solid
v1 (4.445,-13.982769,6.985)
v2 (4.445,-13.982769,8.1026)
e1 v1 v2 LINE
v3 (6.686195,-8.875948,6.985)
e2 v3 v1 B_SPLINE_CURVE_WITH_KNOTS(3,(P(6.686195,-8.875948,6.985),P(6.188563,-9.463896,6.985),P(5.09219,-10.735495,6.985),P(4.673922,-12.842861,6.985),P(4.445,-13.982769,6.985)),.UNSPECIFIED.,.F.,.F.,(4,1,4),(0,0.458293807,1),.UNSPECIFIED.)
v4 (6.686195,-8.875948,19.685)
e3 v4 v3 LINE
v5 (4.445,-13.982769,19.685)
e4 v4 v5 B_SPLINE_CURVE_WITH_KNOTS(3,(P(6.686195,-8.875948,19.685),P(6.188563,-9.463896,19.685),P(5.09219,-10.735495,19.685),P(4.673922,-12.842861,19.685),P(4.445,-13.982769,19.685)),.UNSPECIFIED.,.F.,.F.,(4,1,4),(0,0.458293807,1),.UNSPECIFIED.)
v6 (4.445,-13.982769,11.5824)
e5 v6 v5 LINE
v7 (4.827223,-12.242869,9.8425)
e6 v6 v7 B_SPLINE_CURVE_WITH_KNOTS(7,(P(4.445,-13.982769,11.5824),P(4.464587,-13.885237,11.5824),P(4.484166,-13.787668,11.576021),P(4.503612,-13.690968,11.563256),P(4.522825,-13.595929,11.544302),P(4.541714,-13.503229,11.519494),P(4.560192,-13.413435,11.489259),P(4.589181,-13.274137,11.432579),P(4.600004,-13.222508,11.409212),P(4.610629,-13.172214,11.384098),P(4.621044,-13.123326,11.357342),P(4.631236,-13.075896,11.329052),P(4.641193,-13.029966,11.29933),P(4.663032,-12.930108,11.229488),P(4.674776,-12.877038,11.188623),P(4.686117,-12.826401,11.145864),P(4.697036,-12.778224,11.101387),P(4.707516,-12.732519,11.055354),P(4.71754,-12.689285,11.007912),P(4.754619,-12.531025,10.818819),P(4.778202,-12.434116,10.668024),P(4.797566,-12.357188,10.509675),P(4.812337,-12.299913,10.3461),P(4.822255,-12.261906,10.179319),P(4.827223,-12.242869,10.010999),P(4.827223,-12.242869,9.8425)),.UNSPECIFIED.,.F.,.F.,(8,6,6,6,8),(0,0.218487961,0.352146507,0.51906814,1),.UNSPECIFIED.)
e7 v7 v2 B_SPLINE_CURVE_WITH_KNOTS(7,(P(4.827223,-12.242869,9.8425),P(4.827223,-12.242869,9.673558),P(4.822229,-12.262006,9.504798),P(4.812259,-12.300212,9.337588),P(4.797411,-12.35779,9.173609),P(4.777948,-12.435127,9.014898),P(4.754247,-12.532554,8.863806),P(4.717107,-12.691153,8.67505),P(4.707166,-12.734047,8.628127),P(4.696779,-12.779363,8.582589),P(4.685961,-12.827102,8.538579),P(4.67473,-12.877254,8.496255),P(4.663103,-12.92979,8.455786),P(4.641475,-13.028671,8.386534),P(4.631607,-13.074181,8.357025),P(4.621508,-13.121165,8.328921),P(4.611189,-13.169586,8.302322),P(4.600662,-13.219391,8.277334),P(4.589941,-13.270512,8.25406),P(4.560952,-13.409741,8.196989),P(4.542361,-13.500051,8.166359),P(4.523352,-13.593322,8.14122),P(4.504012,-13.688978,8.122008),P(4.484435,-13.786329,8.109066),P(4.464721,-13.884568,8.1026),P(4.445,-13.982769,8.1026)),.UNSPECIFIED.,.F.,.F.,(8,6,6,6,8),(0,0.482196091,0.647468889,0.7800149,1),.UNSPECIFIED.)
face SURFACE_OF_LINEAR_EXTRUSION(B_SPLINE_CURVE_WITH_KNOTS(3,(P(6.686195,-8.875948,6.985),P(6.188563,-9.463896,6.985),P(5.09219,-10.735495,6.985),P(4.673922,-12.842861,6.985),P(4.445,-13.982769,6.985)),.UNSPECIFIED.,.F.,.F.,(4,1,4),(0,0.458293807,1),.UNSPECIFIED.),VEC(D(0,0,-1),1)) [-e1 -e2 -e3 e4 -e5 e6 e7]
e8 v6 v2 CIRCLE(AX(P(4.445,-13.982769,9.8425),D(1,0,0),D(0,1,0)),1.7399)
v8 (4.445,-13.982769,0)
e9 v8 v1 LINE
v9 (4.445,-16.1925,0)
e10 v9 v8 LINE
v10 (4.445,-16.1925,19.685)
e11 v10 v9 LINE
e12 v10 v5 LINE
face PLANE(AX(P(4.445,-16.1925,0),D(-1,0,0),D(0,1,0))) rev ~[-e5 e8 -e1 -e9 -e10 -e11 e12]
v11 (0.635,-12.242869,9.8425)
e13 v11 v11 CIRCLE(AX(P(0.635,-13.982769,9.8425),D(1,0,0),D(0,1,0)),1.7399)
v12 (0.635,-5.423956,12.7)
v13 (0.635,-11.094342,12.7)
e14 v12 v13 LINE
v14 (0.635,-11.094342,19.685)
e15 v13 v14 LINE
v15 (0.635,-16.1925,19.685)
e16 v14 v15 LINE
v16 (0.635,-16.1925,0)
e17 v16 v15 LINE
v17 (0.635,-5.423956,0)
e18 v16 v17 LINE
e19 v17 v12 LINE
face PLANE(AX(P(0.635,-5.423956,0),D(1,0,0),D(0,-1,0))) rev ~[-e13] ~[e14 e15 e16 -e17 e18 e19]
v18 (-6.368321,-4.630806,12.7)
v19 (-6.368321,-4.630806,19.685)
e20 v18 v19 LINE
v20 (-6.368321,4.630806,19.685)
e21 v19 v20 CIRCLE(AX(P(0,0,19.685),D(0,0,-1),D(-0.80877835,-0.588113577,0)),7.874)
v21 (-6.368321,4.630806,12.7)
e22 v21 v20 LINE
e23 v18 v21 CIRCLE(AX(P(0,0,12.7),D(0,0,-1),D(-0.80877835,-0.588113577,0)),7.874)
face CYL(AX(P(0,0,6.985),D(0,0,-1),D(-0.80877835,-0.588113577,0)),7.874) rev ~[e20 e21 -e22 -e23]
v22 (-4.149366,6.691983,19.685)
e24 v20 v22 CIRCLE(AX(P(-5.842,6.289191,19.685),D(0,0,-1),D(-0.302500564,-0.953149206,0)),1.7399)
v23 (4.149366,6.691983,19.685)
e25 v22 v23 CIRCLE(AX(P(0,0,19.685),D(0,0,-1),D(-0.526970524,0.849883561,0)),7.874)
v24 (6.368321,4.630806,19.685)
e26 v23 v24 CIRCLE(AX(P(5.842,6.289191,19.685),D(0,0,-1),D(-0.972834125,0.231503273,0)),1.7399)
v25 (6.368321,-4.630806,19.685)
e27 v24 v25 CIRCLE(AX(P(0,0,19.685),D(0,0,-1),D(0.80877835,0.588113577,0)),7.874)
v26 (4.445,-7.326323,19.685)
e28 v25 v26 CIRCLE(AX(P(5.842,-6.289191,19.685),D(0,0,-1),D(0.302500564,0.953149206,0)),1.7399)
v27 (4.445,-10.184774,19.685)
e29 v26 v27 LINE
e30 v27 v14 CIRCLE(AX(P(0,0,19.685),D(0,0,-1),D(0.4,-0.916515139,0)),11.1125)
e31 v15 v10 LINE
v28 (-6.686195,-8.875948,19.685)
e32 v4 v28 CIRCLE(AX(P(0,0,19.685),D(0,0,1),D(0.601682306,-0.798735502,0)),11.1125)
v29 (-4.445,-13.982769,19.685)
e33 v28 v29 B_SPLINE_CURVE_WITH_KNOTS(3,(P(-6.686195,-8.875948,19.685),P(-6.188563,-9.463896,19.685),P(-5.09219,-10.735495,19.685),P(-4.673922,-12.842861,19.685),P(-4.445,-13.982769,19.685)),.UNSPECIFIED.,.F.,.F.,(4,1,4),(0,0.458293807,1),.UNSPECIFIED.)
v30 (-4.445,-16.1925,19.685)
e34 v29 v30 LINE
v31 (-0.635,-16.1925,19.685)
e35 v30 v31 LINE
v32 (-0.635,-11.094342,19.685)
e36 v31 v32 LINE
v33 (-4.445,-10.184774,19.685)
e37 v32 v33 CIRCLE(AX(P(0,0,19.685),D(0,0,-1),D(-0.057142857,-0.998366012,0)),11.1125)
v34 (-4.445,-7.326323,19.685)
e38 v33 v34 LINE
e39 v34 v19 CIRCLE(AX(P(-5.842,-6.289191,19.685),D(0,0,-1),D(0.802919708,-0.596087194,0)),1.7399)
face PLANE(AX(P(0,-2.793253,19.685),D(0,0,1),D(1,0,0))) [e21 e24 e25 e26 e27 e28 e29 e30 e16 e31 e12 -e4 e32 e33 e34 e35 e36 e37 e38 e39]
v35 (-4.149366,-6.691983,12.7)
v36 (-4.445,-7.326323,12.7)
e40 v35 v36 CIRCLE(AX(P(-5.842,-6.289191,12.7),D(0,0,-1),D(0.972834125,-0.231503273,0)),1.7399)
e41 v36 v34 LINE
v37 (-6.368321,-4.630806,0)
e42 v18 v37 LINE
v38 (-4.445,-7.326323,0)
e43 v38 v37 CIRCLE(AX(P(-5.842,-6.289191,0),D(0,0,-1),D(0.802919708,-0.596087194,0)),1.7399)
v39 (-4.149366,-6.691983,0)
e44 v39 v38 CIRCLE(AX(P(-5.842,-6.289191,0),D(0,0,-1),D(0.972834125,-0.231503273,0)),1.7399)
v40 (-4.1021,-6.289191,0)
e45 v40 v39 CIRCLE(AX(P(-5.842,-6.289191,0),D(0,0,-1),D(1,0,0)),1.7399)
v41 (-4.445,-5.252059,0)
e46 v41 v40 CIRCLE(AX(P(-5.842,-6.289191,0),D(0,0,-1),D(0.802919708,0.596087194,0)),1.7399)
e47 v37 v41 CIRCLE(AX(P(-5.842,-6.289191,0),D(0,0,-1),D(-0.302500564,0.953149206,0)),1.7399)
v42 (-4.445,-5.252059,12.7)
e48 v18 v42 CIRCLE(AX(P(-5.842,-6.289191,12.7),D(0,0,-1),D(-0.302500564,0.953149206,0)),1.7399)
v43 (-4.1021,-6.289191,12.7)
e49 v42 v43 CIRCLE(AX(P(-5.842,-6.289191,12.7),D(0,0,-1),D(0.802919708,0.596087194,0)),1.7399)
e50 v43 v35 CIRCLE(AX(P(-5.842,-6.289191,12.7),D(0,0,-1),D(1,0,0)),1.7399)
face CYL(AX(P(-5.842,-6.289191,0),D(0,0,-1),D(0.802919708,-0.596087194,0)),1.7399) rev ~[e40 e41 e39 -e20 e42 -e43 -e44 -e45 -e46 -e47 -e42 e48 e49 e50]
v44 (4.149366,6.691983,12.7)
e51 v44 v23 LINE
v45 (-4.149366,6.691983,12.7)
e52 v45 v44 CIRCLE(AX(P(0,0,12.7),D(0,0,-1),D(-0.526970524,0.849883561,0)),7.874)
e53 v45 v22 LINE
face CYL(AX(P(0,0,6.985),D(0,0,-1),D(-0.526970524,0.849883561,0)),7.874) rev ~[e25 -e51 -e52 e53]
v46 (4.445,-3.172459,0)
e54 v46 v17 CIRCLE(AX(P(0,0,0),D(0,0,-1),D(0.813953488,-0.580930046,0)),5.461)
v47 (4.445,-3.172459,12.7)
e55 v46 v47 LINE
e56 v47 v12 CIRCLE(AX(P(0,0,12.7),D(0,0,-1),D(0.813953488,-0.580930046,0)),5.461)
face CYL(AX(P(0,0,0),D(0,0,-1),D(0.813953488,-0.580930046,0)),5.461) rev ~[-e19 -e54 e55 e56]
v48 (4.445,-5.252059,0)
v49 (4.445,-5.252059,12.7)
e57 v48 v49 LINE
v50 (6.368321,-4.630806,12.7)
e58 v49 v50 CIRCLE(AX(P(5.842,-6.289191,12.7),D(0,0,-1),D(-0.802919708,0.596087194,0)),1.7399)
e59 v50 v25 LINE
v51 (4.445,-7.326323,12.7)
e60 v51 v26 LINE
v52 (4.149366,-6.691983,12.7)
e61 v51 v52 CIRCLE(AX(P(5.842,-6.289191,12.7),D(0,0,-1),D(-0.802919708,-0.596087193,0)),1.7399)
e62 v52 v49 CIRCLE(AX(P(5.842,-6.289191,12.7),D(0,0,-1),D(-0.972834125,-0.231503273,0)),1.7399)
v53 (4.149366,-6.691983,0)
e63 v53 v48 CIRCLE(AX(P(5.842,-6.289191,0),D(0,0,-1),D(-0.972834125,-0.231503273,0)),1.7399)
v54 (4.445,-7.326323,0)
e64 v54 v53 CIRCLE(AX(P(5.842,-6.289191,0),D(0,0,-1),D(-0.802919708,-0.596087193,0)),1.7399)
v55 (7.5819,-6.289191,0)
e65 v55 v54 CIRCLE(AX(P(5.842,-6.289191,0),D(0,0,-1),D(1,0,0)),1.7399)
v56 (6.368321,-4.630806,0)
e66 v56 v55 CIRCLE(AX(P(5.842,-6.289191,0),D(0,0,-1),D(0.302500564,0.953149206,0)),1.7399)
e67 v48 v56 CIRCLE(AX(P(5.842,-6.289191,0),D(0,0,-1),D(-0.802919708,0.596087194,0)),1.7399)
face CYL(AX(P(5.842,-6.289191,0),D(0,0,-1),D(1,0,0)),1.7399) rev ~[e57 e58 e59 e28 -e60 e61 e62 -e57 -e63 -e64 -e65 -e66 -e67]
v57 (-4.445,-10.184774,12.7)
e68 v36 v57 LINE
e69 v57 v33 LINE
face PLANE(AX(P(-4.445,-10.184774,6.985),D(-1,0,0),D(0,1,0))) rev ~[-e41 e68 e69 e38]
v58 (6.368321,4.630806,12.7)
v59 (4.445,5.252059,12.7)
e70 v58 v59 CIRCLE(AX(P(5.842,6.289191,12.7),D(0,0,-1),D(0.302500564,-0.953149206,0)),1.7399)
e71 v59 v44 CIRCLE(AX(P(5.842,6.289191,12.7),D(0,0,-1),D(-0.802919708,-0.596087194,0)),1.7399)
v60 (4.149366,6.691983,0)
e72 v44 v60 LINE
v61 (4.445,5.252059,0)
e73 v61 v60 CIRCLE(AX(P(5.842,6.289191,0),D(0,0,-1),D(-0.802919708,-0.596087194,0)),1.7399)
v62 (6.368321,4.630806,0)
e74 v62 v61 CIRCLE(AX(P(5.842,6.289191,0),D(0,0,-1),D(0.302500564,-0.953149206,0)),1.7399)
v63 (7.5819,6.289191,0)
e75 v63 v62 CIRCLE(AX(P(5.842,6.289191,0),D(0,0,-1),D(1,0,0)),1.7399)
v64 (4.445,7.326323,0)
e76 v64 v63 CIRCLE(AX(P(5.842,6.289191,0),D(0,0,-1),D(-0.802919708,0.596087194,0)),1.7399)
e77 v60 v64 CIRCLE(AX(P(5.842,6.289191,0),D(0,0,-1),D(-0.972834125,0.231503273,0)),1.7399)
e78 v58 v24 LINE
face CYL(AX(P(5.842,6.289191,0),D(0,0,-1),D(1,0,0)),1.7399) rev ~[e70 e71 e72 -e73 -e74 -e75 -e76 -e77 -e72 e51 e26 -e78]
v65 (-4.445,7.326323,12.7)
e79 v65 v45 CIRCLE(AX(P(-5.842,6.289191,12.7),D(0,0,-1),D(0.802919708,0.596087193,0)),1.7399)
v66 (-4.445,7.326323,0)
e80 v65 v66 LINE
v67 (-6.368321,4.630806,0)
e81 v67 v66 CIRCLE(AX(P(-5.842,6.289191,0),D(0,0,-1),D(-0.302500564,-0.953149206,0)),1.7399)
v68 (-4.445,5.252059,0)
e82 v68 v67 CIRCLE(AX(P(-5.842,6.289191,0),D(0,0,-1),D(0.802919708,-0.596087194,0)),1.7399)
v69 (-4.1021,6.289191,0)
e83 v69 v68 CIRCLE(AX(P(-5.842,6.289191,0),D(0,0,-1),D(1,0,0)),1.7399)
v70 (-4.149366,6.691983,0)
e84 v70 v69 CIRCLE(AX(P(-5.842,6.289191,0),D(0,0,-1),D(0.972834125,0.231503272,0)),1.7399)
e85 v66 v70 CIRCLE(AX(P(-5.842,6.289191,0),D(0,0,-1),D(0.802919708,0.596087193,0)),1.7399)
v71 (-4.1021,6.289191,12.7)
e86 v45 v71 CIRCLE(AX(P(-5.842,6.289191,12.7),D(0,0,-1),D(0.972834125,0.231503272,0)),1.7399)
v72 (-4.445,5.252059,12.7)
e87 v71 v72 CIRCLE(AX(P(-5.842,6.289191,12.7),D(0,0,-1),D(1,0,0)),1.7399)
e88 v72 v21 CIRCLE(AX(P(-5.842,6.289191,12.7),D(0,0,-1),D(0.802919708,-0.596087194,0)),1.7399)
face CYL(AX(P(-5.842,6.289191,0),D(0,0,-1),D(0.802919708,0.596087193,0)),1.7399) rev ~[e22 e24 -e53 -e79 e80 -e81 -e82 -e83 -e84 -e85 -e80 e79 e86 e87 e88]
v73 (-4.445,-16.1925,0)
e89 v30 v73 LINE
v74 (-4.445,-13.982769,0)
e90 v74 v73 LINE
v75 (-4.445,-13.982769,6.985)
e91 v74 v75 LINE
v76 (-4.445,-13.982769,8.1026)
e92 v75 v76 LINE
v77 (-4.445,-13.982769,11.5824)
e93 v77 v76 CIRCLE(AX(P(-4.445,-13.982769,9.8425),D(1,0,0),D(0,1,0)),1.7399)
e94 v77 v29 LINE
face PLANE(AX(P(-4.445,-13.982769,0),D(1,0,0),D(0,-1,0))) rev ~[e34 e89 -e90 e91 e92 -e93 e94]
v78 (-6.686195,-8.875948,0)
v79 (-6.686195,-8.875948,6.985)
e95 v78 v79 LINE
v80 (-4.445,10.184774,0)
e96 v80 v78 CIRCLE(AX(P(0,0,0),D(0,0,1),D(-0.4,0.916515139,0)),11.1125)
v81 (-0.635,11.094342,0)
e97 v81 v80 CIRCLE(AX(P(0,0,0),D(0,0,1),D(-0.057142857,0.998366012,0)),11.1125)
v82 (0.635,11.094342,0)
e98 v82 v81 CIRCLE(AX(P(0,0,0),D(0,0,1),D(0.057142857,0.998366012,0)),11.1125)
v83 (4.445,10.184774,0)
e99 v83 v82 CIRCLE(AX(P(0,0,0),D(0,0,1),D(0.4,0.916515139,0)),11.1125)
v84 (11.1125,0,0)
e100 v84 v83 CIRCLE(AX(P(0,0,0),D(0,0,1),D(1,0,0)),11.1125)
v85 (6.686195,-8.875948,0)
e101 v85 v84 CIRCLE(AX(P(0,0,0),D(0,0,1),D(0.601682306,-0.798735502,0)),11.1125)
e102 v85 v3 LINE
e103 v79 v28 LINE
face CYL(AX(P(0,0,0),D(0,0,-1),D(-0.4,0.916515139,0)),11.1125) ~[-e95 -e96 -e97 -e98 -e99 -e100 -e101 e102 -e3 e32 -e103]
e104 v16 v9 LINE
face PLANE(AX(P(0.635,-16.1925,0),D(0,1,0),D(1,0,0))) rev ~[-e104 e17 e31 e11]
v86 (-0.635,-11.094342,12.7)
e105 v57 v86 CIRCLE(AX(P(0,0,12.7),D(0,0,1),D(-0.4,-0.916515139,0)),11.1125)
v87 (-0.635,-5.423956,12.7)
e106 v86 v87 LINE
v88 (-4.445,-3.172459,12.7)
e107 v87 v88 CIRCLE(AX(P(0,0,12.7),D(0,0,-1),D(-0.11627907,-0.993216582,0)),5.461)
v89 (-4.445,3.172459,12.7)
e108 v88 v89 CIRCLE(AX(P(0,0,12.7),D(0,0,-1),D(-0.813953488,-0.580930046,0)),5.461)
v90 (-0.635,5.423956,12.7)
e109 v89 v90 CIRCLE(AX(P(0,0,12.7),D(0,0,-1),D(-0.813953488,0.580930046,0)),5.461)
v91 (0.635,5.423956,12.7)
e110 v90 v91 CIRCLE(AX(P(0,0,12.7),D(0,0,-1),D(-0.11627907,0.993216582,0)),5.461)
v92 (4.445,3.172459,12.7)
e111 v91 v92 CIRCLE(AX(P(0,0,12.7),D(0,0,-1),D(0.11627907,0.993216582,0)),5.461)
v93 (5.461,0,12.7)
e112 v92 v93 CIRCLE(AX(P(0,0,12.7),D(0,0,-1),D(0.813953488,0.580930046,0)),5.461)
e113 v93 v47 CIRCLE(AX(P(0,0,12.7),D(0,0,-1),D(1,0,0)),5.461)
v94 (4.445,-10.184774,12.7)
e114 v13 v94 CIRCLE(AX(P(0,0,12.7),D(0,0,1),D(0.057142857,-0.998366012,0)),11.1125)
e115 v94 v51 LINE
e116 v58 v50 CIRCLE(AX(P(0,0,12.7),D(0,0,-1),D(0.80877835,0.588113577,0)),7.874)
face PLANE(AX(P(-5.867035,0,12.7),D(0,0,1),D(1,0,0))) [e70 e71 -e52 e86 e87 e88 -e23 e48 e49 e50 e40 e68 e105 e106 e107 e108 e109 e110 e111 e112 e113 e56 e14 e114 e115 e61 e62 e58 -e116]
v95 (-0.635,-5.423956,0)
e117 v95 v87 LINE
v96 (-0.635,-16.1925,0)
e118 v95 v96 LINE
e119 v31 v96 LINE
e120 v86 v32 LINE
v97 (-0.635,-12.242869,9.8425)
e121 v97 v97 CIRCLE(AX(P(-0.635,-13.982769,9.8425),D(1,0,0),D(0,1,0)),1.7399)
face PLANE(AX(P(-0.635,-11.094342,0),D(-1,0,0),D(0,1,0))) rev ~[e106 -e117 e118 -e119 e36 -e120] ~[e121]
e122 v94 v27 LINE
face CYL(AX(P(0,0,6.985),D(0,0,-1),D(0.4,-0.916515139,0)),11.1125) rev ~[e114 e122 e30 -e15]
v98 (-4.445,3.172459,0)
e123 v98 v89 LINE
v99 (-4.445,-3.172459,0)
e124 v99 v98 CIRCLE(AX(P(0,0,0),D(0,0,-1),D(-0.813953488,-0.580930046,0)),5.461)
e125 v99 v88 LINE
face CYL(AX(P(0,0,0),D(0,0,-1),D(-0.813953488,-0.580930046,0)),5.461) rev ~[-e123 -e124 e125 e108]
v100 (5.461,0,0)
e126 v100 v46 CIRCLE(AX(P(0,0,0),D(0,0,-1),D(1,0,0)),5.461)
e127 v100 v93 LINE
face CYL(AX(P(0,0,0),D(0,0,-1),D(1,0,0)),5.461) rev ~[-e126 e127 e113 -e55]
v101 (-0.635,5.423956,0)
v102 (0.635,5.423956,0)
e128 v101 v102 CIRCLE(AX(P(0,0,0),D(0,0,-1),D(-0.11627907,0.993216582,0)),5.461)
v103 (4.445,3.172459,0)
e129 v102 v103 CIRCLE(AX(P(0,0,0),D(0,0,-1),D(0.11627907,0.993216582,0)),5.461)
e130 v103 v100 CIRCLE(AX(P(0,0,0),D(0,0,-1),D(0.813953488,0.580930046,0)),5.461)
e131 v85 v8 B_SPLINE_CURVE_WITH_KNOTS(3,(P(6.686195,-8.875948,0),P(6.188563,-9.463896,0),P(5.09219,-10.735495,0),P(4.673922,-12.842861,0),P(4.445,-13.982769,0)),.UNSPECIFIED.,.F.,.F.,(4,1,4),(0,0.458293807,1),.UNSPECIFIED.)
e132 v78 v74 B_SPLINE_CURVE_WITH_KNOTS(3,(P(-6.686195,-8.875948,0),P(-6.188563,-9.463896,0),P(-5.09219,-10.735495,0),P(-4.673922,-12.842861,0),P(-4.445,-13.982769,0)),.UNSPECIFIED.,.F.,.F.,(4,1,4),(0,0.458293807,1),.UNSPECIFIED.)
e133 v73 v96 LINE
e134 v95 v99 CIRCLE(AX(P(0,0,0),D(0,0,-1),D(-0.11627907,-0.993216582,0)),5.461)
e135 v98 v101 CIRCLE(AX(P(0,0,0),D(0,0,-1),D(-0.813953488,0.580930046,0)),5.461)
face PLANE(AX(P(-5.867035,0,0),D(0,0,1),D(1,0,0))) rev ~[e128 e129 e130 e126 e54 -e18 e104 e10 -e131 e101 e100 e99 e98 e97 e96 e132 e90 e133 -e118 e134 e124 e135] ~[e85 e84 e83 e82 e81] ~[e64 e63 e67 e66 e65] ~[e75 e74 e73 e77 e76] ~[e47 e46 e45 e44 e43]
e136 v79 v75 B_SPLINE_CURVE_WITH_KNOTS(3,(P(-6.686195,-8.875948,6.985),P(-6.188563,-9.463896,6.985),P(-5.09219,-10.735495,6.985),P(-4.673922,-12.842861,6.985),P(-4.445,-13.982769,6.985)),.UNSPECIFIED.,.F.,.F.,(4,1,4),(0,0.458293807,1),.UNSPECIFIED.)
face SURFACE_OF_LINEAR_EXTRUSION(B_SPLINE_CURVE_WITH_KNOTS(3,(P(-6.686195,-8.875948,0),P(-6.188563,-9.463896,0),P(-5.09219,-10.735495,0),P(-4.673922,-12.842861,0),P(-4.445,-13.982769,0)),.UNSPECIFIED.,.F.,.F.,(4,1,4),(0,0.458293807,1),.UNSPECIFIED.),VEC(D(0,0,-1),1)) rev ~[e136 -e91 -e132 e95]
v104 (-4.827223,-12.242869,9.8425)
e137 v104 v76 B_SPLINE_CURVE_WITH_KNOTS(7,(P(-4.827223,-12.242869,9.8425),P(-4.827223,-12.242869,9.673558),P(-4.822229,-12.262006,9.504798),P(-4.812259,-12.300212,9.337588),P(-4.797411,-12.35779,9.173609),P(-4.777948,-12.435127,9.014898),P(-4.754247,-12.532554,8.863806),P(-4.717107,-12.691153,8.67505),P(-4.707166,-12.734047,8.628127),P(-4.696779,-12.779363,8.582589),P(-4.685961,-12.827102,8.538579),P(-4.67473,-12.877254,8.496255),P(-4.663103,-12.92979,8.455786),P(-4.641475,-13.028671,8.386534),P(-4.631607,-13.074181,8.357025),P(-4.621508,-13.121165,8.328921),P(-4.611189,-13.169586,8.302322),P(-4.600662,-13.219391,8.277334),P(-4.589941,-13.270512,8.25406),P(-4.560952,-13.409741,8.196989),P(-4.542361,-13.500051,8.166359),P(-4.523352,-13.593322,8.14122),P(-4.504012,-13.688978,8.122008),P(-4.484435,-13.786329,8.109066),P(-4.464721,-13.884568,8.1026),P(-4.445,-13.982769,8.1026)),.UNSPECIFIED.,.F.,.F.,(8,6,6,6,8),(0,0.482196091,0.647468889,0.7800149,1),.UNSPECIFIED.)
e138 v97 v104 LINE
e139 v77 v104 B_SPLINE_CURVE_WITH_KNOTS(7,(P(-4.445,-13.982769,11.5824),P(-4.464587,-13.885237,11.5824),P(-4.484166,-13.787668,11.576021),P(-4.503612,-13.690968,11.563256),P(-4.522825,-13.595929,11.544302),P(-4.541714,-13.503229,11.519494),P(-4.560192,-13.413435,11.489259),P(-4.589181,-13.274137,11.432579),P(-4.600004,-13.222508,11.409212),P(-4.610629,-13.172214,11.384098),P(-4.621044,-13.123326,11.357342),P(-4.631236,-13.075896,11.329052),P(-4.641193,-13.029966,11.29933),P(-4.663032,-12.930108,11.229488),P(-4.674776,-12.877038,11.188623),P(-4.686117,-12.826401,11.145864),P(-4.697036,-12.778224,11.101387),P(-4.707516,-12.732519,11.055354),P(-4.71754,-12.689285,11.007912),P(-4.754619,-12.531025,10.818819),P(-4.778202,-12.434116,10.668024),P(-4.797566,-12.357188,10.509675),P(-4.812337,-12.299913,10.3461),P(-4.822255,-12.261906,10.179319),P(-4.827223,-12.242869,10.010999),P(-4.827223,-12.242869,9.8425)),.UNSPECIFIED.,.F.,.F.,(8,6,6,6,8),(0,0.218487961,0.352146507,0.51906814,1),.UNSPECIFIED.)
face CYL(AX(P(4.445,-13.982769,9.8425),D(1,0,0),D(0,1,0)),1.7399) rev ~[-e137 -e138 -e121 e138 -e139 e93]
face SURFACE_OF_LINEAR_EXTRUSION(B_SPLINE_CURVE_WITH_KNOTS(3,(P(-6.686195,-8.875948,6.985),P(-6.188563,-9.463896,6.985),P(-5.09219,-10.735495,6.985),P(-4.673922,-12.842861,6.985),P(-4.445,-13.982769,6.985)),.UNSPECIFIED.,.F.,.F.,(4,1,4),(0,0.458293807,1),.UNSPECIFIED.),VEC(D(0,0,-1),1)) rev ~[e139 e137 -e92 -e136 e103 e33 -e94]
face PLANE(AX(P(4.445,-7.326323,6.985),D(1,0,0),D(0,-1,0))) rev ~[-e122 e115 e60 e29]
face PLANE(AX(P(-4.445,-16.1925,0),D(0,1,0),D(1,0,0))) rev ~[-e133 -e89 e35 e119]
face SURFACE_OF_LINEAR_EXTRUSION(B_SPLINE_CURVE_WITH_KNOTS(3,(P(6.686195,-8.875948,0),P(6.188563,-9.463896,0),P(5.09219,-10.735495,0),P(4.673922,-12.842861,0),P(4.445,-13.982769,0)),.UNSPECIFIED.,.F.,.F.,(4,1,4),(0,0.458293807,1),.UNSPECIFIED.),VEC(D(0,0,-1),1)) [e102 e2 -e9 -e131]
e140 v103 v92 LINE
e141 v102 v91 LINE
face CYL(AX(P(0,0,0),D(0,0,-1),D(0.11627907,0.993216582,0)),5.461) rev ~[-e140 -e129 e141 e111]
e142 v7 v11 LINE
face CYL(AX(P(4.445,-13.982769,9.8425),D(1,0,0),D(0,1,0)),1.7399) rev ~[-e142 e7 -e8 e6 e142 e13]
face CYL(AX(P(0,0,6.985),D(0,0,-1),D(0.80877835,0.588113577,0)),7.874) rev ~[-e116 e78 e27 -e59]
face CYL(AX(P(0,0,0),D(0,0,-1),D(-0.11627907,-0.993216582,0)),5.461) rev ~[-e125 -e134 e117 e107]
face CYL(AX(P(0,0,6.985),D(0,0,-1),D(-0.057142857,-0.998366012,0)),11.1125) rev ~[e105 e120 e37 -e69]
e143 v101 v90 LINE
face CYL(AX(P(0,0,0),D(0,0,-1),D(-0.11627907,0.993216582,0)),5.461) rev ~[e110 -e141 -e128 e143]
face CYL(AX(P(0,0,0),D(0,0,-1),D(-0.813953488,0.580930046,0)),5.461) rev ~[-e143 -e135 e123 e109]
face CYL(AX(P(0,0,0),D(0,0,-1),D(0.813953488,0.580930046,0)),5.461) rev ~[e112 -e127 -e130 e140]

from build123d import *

# Parameters (mm, degrees)
F1_DEPTH      = 6.985
F2_DEPTH      = 12.7
F3_R          = 1.7399
F4_DEPTH      = 25.4
F4_DEPTH_BACK = 25.4


with BuildPart() as f1:
    # F0 (on Top) → F1 (new body)
    with BuildSketch(Plane.XY):
        with BuildLine():
            ThreePointArc((-6.6861946277, -8.8759482677), (-5.6039387911, -9.5960161669), (-4.445, -10.184774482))
            Line((-4.445, -10.184774482), (-4.445, -7.326322721))
            ThreePointArc((-4.445, -7.326322721), (-7.2583236845, -7.2997742217), (-6.3683207306, -4.6308063091))
            ThreePointArc((-6.3683207306, -4.6308063091), (-7.874, 0), (-6.3683207306, 4.6308063091))
            ThreePointArc((-6.3683207306, 4.6308063091), (-7.2583236845, 7.2997742217), (-4.445, 7.326322721))
            Line((-4.445, 7.326322721), (-4.445, 10.184774482))
            ThreePointArc((-4.445, 10.184774482), (-11.0364696074, 1.2976882733), (-6.6861946277, -8.8759482677))
        make_face()
        with BuildLine():
            Line((-0.635, 7.8483533942), (-0.635, 11.0943423081))
            ThreePointArc((-0.635, 11.0943423081), (-2.5803930723, 10.808756998), (-4.445, 10.184774482))
            Line((-4.445, 10.184774482), (-4.445, 7.326322721))
            ThreePointArc((-4.445, 7.326322721), (-4.264959614, 7.0241706334), (-4.149365906, 6.6919831573))
            ThreePointArc((-4.149365906, 6.6919831573), (-2.4610642641, 7.4795079175), (-0.635, 7.8483533942))
        make_face()
        with BuildLine():
            Line((4.445, 7.326322721), (4.445, 10.184774482))
            ThreePointArc((4.445, 10.184774482), (2.5803930723, 10.808756998), (0.635, 11.0943423081))
            Line((0.635, 11.0943423081), (0.635, 7.8483533942))
            ThreePointArc((0.635, 7.8483533942), (2.4610642641, 7.4795079175), (4.149365906, 6.6919831573))
            ThreePointArc((4.149365906, 6.6919831573), (4.264959614, 7.0241706334), (4.445, 7.326322721))
        make_face()
        with BuildLine():
            ThreePointArc((4.445, -10.184774482), (5.6039387911, -9.5960161669), (6.6861946277, -8.8759482677))
            ThreePointArc((6.6861946277, -8.8759482677), (9.9445460945, -4.959199454), (11.1125, 0))
            ThreePointArc((11.1125, 0), (9.2973845449, 6.0865669203), (4.445, 10.184774482))
            Line((4.445, 10.184774482), (4.445, 7.326322721))
            ThreePointArc((4.445, 7.326322721), (6.3881738322, 7.9411428381), (7.5819, 6.2891906127))
            ThreePointArc((7.5819, 6.2891906127), (7.2461006818, 5.2616920554), (6.3683207306, 4.6308063091))
            ThreePointArc((6.3683207306, 4.6308063091), (7.4881250468, 2.4347195493), (7.874, 0))
            ThreePointArc((7.874, 0), (7.4881250468, -2.4347195493), (6.3683207306, -4.6308063091))
            ThreePointArc((6.3683207306, -4.6308063091), (7.2461006818, -5.2616920554), (7.5819, -6.2891906127))
            ThreePointArc((7.5819, -6.2891906127), (6.3881738322, -7.9411428381), (4.445, -7.326322721))
            Line((4.445, -7.326322721), (4.445, -10.184774482))
        make_face()
        with BuildLine():
            Line((0.635, 7.8483533942), (0.635, 11.0943423081))
            ThreePointArc((0.635, 11.0943423081), (0, 11.1125), (-0.635, 11.0943423081))
            Line((-0.635, 11.0943423081), (-0.635, 7.8483533942))
            ThreePointArc((-0.635, 7.8483533942), (0, 7.874), (0.635, 7.8483533942))
        make_face()
        with BuildLine():
            Line((-4.445, -13.9827691019), (-4.445, -10.184774482))
            ThreePointArc((-4.445, -10.184774482), (-5.6039387911, -9.5960161669), (-6.6861946277, -8.8759482677))
            add(Edge.make_bspline(
                [(-6.6861946277, -8.8759482677), (-6.1885628089, -9.4638964345), (-5.0921901135, -10.7354953403), (-4.6739221939, -12.8428610165), (-4.445, -13.9827691019)],
                knots=[0, 0, 0, 0, 0.4582938074, 1, 1, 1, 1], degree=3))
        make_face()
        with BuildLine():
            Line((-0.635, -16.1925), (-0.635, -11.0943423081))
            ThreePointArc((-0.635, -11.0943423081), (-2.5803930723, -10.808756998), (-4.445, -10.184774482))
            Line((-4.445, -10.184774482), (-4.445, -13.9827691019))
            Line((-4.445, -13.9827691019), (-4.445, -16.1925))
            Line((-4.445, -16.1925), (-0.635, -16.1925))
        make_face()
        with BuildLine():
            Line((4.445, -13.9827691019), (4.445, -10.184774482))
            ThreePointArc((4.445, -10.184774482), (2.5803930723, -10.808756998), (0.635, -11.0943423081))
            Line((0.635, -11.0943423081), (0.635, -16.1925))
            Line((0.635, -16.1925), (4.445, -16.1925))
            Line((4.445, -16.1925), (4.445, -13.9827691019))
        make_face()
        with BuildLine():
            add(Edge.make_bspline(
                [(6.6861946277, -8.8759482677), (6.1885628089, -9.4638964345), (5.0921901135, -10.7354953403), (4.6739221939, -12.8428610165), (4.445, -13.9827691019)],
                knots=[0, 0, 0, 0, 0.4582938074, 1, 1, 1, 1], degree=3))
            ThreePointArc((6.6861946277, -8.8759482677), (5.6039387911, -9.5960161669), (4.445, -10.184774482))
            Line((4.445, -10.184774482), (4.445, -13.9827691019))
        make_face()
    extrude(amount=F1_DEPTH)

    # F0 (on Top) + F1_face (on face) → F2 (join)
    with BuildSketch(Plane.XY):
        with BuildLine():
            ThreePointArc((-6.3683207306, 4.6308063091), (-7.874, 0), (-6.3683207306, -4.6308063091))
            ThreePointArc((-6.3683207306, -4.6308063091), (-5.3072017482, -4.6335207061), (-4.445, -5.2520585045))
            Line((-4.445, -5.2520585045), (-4.445, -3.1724589832))
            ThreePointArc((-4.445, -3.1724589832), (-5.461, 0), (-4.445, 3.1724589832))
            Line((-4.445, 3.1724589832), (-4.445, 5.2520585045))
            ThreePointArc((-4.445, 5.2520585045), (-5.3072017482, 4.6335207061), (-6.3683207306, 4.6308063091))
        make_face()
        with BuildLine():
            Line((-0.635, 5.423955752), (-0.635, 7.8483533942))
            ThreePointArc((-0.635, 7.8483533942), (-2.4610642641, 7.4795079175), (-4.149365906, 6.6919831573))
            ThreePointArc((-4.149365906, 6.6919831573), (-4.113956877, 6.491968755), (-4.1021, 6.2891906127))
            ThreePointArc((-4.1021, 6.2891906127), (-4.1900477746, 5.7430167805), (-4.445, 5.2520585045))
            Line((-4.445, 5.2520585045), (-4.445, 3.1724589832))
            ThreePointArc((-4.445, 3.1724589832), (-2.7782925377, 4.7014478169), (-0.635, 5.423955752))
        make_face()
        with BuildLine():
            ThreePointArc((4.149365906, 6.6919831573), (2.4610642641, 7.4795079175), (0.635, 7.8483533942))
            Line((0.635, 7.8483533942), (0.635, 5.423955752))
            ThreePointArc((0.635, 5.423955752), (2.7782925377, 4.7014478169), (4.445, 3.1724589832))
            Line((4.445, 3.1724589832), (4.445, 5.2520585045))
            ThreePointArc((4.445, 5.2520585045), (4.1376510158, 5.9392669784), (4.149365906, 6.6919831573))
        make_face()
        with BuildLine():
            Line((4.445, -3.1724589832), (4.445, -5.2520585045))
            ThreePointArc((4.445, -5.2520585045), (5.3072017482, -4.6335207061), (6.3683207306, -4.6308063091))
            ThreePointArc((6.3683207306, -4.6308063091), (7.4881250468, -2.4347195493), (7.874, 0))
            ThreePointArc((7.874, 0), (7.4881250468, 2.4347195493), (6.3683207306, 4.6308063091))
            ThreePointArc((6.3683207306, 4.6308063091), (5.3072017482, 4.6335207061), (4.445, 5.2520585045))
            Line((4.445, 5.2520585045), (4.445, 3.1724589832))
            ThreePointArc((4.445, 3.1724589832), (5.2008011883, 1.6655893852), (5.461, 0))
            ThreePointArc((5.461, 0), (5.2008011883, -1.6655893852), (4.445, -3.1724589832))
        make_face()
        with BuildLine():
            Line((0.635, -5.423955752), (0.635, -7.8483533942))
            ThreePointArc((0.635, -7.8483533942), (2.4610642641, -7.4795079175), (4.149365906, -6.6919831573))
            ThreePointArc((4.149365906, -6.6919831573), (4.1376510158, -5.9392669784), (4.445, -5.2520585045))
            Line((4.445, -5.2520585045), (4.445, -3.1724589832))
            ThreePointArc((4.445, -3.1724589832), (2.7782925377, -4.7014478169), (0.635, -5.423955752))
        make_face()
        with BuildLine():
            ThreePointArc((-4.149365906, -6.6919831573), (-2.4610642641, -7.4795079175), (-0.635, -7.8483533942))
            Line((-0.635, -7.8483533942), (-0.635, -5.423955752))
            ThreePointArc((-0.635, -5.423955752), (-2.7782925377, -4.7014478169), (-4.445, -3.1724589832))
            Line((-4.445, -3.1724589832), (-4.445, -5.2520585045))
            ThreePointArc((-4.445, -5.2520585045), (-4.1900477746, -5.7430167805), (-4.1021, -6.2891906127))
            ThreePointArc((-4.1021, -6.2891906127), (-4.113956877, -6.491968755), (-4.149365906, -6.6919831573))
        make_face()
        with BuildLine():
            ThreePointArc((-4.445, -10.184774482), (-2.5803930723, -10.808756998), (-0.635, -11.0943423081))
            Line((-0.635, -11.0943423081), (-0.635, -7.8483533942))
            ThreePointArc((-0.635, -7.8483533942), (-2.4610642641, -7.4795079175), (-4.149365906, -6.6919831573))
            ThreePointArc((-4.149365906, -6.6919831573), (-4.264959614, -7.0241706334), (-4.445, -7.326322721))
            Line((-4.445, -7.326322721), (-4.445, -10.184774482))
        make_face()
        with BuildLine():
            ThreePointArc((0.635, -11.0943423081), (2.5803930723, -10.808756998), (4.445, -10.184774482))
            Line((4.445, -10.184774482), (4.445, -7.326322721))
            ThreePointArc((4.445, -7.326322721), (4.264959614, -7.0241706334), (4.149365906, -6.6919831573))
            ThreePointArc((4.149365906, -6.6919831573), (2.4610642641, -7.4795079175), (0.635, -7.8483533942))
            Line((0.635, -7.8483533942), (0.635, -11.0943423081))
        make_face()
        with BuildLine():
            ThreePointArc((4.445, -10.184774482), (5.6039387911, -9.5960161669), (6.6861946277, -8.8759482677))
            ThreePointArc((6.6861946277, -8.8759482677), (9.9445460945, -4.959199454), (11.1125, 0))
            ThreePointArc((11.1125, 0), (9.2973845449, 6.0865669203), (4.445, 10.184774482))
            Line((4.445, 10.184774482), (4.445, 7.326322721))
            ThreePointArc((4.445, 7.326322721), (6.3881738322, 7.9411428381), (7.5819, 6.2891906127))
            ThreePointArc((7.5819, 6.2891906127), (7.2461006818, 5.2616920554), (6.3683207306, 4.6308063091))
            ThreePointArc((6.3683207306, 4.6308063091), (7.4881250468, 2.4347195493), (7.874, 0))
            ThreePointArc((7.874, 0), (7.4881250468, -2.4347195493), (6.3683207306, -4.6308063091))
            ThreePointArc((6.3683207306, -4.6308063091), (7.2461006818, -5.2616920554), (7.5819, -6.2891906127))
            ThreePointArc((7.5819, -6.2891906127), (6.3881738322, -7.9411428381), (4.445, -7.326322721))
            Line((4.445, -7.326322721), (4.445, -10.184774482))
        make_face()
        with BuildLine():
            Line((4.445, 7.326322721), (4.445, 10.184774482))
            ThreePointArc((4.445, 10.184774482), (2.5803930723, 10.808756998), (0.635, 11.0943423081))
            Line((0.635, 11.0943423081), (0.635, 7.8483533942))
            ThreePointArc((0.635, 7.8483533942), (2.4610642641, 7.4795079175), (4.149365906, 6.6919831573))
            ThreePointArc((4.149365906, 6.6919831573), (4.264959614, 7.0241706334), (4.445, 7.326322721))
        make_face()
        with BuildLine():
            Line((-0.635, 7.8483533942), (-0.635, 11.0943423081))
            ThreePointArc((-0.635, 11.0943423081), (-2.5803930723, 10.808756998), (-4.445, 10.184774482))
            Line((-4.445, 10.184774482), (-4.445, 7.326322721))
            ThreePointArc((-4.445, 7.326322721), (-4.264959614, 7.0241706334), (-4.149365906, 6.6919831573))
            ThreePointArc((-4.149365906, 6.6919831573), (-2.4610642641, 7.4795079175), (-0.635, 7.8483533942))
        make_face()
        with BuildLine():
            ThreePointArc((-6.6861946277, -8.8759482677), (-5.6039387911, -9.5960161669), (-4.445, -10.184774482))
            Line((-4.445, -10.184774482), (-4.445, -7.326322721))
            ThreePointArc((-4.445, -7.326322721), (-7.2583236845, -7.2997742217), (-6.3683207306, -4.6308063091))
            ThreePointArc((-6.3683207306, -4.6308063091), (-7.874, 0), (-6.3683207306, 4.6308063091))
            ThreePointArc((-6.3683207306, 4.6308063091), (-7.2583236845, 7.2997742217), (-4.445, 7.326322721))
            Line((-4.445, 7.326322721), (-4.445, 10.184774482))
            ThreePointArc((-4.445, 10.184774482), (-11.0364696074, 1.2976882733), (-6.6861946277, -8.8759482677))
        make_face()
        with BuildLine():
            Line((0.635, 7.8483533942), (0.635, 11.0943423081))
            ThreePointArc((0.635, 11.0943423081), (0, 11.1125), (-0.635, 11.0943423081))
            Line((-0.635, 11.0943423081), (-0.635, 7.8483533942))
            ThreePointArc((-0.635, 7.8483533942), (0, 7.874), (0.635, 7.8483533942))
        make_face()
        with BuildLine():
            Line((0.635, 5.423955752), (0.635, 7.8483533942))
            ThreePointArc((0.635, 7.8483533942), (0, 7.874), (-0.635, 7.8483533942))
            Line((-0.635, 7.8483533942), (-0.635, 5.423955752))
            ThreePointArc((-0.635, 5.423955752), (0, 5.461), (0.635, 5.423955752))
        make_face()
    with BuildSketch(Plane(origin=(0, -1.8857820948, 6.985), x_dir=(1, 0, 0), z_dir=(0, 0, 1))):
        with BuildLine():
            ThreePointArc((-4.445, -5.4405406262), (-7.2583236845, -5.4139921269), (-6.3683207306, -2.7450242143))
            ThreePointArc((-6.3683207306, -2.7450242143), (-7.874, 1.8857820948), (-6.3683207306, 6.5165884039))
            ThreePointArc((-6.3683207306, 6.5165884039), (-7.0261385963, 9.4497541769), (-4.149365906, 8.5777652521))
            ThreePointArc((-4.149365906, 8.5777652521), (0, 9.7597820948), (4.149365906, 8.5777652521))
            ThreePointArc((4.149365906, 8.5777652521), (7.0261385963, 9.4497541769), (6.3683207306, 6.5165884039))
            ThreePointArc((6.3683207306, 6.5165884039), (7.874, 1.8857820948), (6.3683207306, -2.7450242143))
            ThreePointArc((6.3683207306, -2.7450242143), (7.2583236845, -5.4139921269), (4.445, -5.4405406262))
            Line((4.445, -5.4405406262), (4.445, -8.2989923872))
            ThreePointArc((4.445, -8.2989923872), (2.5803930723, -8.9229749032), (0.635, -9.2085602133))
            Line((0.635, -9.2085602133), (0.635, -14.3067179052))
            Line((0.635, -14.3067179052), (4.445, -14.3067179052))
            Line((4.445, -14.3067179052), (4.445, -12.0969870071))
            add(Edge.make_bspline(
                [(6.6861946277, -6.9901661729), (6.1885628089, -7.5781143397), (5.0921901135, -8.8497132455), (4.6739221939, -10.9570789217), (4.445, -12.0969870071)],
                knots=[0, 0, 0, 0, 0.4582938074, 1, 1, 1, 1], degree=3))
            ThreePointArc((6.6861946277, -6.9901661729), (0, 12.9982820948), (-6.6861946277, -6.9901661729))
            add(Edge.make_bspline(
                [(-6.6861946277, -6.9901661729), (-6.1885628089, -7.5781143397), (-5.0921901135, -8.8497132455), (-4.6739221939, -10.9570789217), (-4.445, -12.0969870071)],
                knots=[0, 0, 0, 0, 0.4582938074, 1, 1, 1, 1], degree=3))
            Line((-4.445, -12.0969870071), (-4.445, -14.3067179052))
            Line((-4.445, -14.3067179052), (-0.635, -14.3067179052))
            Line((-0.635, -14.3067179052), (-0.635, -9.2085602133))
            ThreePointArc((-0.635, -9.2085602133), (-2.5803930723, -8.9229749032), (-4.445, -8.2989923872))
            Line((-4.445, -8.2989923872), (-4.445, -5.4405406262))
        make_face()
    extrude(amount=F2_DEPTH)

    # F3 (on face) → F4 (cut, two sides)
    with BuildSketch(Plane.YZ.offset(4.445)) as f4_sk:
        with Locations((-13.9827691019, 9.8425)):
            Circle(F3_R)
    extrude(amount=-F4_DEPTH, mode=Mode.SUBTRACT)
    extrude(f4_sk.sketch, amount=F4_DEPTH_BACK, mode=Mode.SUBTRACT)


solid = f1.part
